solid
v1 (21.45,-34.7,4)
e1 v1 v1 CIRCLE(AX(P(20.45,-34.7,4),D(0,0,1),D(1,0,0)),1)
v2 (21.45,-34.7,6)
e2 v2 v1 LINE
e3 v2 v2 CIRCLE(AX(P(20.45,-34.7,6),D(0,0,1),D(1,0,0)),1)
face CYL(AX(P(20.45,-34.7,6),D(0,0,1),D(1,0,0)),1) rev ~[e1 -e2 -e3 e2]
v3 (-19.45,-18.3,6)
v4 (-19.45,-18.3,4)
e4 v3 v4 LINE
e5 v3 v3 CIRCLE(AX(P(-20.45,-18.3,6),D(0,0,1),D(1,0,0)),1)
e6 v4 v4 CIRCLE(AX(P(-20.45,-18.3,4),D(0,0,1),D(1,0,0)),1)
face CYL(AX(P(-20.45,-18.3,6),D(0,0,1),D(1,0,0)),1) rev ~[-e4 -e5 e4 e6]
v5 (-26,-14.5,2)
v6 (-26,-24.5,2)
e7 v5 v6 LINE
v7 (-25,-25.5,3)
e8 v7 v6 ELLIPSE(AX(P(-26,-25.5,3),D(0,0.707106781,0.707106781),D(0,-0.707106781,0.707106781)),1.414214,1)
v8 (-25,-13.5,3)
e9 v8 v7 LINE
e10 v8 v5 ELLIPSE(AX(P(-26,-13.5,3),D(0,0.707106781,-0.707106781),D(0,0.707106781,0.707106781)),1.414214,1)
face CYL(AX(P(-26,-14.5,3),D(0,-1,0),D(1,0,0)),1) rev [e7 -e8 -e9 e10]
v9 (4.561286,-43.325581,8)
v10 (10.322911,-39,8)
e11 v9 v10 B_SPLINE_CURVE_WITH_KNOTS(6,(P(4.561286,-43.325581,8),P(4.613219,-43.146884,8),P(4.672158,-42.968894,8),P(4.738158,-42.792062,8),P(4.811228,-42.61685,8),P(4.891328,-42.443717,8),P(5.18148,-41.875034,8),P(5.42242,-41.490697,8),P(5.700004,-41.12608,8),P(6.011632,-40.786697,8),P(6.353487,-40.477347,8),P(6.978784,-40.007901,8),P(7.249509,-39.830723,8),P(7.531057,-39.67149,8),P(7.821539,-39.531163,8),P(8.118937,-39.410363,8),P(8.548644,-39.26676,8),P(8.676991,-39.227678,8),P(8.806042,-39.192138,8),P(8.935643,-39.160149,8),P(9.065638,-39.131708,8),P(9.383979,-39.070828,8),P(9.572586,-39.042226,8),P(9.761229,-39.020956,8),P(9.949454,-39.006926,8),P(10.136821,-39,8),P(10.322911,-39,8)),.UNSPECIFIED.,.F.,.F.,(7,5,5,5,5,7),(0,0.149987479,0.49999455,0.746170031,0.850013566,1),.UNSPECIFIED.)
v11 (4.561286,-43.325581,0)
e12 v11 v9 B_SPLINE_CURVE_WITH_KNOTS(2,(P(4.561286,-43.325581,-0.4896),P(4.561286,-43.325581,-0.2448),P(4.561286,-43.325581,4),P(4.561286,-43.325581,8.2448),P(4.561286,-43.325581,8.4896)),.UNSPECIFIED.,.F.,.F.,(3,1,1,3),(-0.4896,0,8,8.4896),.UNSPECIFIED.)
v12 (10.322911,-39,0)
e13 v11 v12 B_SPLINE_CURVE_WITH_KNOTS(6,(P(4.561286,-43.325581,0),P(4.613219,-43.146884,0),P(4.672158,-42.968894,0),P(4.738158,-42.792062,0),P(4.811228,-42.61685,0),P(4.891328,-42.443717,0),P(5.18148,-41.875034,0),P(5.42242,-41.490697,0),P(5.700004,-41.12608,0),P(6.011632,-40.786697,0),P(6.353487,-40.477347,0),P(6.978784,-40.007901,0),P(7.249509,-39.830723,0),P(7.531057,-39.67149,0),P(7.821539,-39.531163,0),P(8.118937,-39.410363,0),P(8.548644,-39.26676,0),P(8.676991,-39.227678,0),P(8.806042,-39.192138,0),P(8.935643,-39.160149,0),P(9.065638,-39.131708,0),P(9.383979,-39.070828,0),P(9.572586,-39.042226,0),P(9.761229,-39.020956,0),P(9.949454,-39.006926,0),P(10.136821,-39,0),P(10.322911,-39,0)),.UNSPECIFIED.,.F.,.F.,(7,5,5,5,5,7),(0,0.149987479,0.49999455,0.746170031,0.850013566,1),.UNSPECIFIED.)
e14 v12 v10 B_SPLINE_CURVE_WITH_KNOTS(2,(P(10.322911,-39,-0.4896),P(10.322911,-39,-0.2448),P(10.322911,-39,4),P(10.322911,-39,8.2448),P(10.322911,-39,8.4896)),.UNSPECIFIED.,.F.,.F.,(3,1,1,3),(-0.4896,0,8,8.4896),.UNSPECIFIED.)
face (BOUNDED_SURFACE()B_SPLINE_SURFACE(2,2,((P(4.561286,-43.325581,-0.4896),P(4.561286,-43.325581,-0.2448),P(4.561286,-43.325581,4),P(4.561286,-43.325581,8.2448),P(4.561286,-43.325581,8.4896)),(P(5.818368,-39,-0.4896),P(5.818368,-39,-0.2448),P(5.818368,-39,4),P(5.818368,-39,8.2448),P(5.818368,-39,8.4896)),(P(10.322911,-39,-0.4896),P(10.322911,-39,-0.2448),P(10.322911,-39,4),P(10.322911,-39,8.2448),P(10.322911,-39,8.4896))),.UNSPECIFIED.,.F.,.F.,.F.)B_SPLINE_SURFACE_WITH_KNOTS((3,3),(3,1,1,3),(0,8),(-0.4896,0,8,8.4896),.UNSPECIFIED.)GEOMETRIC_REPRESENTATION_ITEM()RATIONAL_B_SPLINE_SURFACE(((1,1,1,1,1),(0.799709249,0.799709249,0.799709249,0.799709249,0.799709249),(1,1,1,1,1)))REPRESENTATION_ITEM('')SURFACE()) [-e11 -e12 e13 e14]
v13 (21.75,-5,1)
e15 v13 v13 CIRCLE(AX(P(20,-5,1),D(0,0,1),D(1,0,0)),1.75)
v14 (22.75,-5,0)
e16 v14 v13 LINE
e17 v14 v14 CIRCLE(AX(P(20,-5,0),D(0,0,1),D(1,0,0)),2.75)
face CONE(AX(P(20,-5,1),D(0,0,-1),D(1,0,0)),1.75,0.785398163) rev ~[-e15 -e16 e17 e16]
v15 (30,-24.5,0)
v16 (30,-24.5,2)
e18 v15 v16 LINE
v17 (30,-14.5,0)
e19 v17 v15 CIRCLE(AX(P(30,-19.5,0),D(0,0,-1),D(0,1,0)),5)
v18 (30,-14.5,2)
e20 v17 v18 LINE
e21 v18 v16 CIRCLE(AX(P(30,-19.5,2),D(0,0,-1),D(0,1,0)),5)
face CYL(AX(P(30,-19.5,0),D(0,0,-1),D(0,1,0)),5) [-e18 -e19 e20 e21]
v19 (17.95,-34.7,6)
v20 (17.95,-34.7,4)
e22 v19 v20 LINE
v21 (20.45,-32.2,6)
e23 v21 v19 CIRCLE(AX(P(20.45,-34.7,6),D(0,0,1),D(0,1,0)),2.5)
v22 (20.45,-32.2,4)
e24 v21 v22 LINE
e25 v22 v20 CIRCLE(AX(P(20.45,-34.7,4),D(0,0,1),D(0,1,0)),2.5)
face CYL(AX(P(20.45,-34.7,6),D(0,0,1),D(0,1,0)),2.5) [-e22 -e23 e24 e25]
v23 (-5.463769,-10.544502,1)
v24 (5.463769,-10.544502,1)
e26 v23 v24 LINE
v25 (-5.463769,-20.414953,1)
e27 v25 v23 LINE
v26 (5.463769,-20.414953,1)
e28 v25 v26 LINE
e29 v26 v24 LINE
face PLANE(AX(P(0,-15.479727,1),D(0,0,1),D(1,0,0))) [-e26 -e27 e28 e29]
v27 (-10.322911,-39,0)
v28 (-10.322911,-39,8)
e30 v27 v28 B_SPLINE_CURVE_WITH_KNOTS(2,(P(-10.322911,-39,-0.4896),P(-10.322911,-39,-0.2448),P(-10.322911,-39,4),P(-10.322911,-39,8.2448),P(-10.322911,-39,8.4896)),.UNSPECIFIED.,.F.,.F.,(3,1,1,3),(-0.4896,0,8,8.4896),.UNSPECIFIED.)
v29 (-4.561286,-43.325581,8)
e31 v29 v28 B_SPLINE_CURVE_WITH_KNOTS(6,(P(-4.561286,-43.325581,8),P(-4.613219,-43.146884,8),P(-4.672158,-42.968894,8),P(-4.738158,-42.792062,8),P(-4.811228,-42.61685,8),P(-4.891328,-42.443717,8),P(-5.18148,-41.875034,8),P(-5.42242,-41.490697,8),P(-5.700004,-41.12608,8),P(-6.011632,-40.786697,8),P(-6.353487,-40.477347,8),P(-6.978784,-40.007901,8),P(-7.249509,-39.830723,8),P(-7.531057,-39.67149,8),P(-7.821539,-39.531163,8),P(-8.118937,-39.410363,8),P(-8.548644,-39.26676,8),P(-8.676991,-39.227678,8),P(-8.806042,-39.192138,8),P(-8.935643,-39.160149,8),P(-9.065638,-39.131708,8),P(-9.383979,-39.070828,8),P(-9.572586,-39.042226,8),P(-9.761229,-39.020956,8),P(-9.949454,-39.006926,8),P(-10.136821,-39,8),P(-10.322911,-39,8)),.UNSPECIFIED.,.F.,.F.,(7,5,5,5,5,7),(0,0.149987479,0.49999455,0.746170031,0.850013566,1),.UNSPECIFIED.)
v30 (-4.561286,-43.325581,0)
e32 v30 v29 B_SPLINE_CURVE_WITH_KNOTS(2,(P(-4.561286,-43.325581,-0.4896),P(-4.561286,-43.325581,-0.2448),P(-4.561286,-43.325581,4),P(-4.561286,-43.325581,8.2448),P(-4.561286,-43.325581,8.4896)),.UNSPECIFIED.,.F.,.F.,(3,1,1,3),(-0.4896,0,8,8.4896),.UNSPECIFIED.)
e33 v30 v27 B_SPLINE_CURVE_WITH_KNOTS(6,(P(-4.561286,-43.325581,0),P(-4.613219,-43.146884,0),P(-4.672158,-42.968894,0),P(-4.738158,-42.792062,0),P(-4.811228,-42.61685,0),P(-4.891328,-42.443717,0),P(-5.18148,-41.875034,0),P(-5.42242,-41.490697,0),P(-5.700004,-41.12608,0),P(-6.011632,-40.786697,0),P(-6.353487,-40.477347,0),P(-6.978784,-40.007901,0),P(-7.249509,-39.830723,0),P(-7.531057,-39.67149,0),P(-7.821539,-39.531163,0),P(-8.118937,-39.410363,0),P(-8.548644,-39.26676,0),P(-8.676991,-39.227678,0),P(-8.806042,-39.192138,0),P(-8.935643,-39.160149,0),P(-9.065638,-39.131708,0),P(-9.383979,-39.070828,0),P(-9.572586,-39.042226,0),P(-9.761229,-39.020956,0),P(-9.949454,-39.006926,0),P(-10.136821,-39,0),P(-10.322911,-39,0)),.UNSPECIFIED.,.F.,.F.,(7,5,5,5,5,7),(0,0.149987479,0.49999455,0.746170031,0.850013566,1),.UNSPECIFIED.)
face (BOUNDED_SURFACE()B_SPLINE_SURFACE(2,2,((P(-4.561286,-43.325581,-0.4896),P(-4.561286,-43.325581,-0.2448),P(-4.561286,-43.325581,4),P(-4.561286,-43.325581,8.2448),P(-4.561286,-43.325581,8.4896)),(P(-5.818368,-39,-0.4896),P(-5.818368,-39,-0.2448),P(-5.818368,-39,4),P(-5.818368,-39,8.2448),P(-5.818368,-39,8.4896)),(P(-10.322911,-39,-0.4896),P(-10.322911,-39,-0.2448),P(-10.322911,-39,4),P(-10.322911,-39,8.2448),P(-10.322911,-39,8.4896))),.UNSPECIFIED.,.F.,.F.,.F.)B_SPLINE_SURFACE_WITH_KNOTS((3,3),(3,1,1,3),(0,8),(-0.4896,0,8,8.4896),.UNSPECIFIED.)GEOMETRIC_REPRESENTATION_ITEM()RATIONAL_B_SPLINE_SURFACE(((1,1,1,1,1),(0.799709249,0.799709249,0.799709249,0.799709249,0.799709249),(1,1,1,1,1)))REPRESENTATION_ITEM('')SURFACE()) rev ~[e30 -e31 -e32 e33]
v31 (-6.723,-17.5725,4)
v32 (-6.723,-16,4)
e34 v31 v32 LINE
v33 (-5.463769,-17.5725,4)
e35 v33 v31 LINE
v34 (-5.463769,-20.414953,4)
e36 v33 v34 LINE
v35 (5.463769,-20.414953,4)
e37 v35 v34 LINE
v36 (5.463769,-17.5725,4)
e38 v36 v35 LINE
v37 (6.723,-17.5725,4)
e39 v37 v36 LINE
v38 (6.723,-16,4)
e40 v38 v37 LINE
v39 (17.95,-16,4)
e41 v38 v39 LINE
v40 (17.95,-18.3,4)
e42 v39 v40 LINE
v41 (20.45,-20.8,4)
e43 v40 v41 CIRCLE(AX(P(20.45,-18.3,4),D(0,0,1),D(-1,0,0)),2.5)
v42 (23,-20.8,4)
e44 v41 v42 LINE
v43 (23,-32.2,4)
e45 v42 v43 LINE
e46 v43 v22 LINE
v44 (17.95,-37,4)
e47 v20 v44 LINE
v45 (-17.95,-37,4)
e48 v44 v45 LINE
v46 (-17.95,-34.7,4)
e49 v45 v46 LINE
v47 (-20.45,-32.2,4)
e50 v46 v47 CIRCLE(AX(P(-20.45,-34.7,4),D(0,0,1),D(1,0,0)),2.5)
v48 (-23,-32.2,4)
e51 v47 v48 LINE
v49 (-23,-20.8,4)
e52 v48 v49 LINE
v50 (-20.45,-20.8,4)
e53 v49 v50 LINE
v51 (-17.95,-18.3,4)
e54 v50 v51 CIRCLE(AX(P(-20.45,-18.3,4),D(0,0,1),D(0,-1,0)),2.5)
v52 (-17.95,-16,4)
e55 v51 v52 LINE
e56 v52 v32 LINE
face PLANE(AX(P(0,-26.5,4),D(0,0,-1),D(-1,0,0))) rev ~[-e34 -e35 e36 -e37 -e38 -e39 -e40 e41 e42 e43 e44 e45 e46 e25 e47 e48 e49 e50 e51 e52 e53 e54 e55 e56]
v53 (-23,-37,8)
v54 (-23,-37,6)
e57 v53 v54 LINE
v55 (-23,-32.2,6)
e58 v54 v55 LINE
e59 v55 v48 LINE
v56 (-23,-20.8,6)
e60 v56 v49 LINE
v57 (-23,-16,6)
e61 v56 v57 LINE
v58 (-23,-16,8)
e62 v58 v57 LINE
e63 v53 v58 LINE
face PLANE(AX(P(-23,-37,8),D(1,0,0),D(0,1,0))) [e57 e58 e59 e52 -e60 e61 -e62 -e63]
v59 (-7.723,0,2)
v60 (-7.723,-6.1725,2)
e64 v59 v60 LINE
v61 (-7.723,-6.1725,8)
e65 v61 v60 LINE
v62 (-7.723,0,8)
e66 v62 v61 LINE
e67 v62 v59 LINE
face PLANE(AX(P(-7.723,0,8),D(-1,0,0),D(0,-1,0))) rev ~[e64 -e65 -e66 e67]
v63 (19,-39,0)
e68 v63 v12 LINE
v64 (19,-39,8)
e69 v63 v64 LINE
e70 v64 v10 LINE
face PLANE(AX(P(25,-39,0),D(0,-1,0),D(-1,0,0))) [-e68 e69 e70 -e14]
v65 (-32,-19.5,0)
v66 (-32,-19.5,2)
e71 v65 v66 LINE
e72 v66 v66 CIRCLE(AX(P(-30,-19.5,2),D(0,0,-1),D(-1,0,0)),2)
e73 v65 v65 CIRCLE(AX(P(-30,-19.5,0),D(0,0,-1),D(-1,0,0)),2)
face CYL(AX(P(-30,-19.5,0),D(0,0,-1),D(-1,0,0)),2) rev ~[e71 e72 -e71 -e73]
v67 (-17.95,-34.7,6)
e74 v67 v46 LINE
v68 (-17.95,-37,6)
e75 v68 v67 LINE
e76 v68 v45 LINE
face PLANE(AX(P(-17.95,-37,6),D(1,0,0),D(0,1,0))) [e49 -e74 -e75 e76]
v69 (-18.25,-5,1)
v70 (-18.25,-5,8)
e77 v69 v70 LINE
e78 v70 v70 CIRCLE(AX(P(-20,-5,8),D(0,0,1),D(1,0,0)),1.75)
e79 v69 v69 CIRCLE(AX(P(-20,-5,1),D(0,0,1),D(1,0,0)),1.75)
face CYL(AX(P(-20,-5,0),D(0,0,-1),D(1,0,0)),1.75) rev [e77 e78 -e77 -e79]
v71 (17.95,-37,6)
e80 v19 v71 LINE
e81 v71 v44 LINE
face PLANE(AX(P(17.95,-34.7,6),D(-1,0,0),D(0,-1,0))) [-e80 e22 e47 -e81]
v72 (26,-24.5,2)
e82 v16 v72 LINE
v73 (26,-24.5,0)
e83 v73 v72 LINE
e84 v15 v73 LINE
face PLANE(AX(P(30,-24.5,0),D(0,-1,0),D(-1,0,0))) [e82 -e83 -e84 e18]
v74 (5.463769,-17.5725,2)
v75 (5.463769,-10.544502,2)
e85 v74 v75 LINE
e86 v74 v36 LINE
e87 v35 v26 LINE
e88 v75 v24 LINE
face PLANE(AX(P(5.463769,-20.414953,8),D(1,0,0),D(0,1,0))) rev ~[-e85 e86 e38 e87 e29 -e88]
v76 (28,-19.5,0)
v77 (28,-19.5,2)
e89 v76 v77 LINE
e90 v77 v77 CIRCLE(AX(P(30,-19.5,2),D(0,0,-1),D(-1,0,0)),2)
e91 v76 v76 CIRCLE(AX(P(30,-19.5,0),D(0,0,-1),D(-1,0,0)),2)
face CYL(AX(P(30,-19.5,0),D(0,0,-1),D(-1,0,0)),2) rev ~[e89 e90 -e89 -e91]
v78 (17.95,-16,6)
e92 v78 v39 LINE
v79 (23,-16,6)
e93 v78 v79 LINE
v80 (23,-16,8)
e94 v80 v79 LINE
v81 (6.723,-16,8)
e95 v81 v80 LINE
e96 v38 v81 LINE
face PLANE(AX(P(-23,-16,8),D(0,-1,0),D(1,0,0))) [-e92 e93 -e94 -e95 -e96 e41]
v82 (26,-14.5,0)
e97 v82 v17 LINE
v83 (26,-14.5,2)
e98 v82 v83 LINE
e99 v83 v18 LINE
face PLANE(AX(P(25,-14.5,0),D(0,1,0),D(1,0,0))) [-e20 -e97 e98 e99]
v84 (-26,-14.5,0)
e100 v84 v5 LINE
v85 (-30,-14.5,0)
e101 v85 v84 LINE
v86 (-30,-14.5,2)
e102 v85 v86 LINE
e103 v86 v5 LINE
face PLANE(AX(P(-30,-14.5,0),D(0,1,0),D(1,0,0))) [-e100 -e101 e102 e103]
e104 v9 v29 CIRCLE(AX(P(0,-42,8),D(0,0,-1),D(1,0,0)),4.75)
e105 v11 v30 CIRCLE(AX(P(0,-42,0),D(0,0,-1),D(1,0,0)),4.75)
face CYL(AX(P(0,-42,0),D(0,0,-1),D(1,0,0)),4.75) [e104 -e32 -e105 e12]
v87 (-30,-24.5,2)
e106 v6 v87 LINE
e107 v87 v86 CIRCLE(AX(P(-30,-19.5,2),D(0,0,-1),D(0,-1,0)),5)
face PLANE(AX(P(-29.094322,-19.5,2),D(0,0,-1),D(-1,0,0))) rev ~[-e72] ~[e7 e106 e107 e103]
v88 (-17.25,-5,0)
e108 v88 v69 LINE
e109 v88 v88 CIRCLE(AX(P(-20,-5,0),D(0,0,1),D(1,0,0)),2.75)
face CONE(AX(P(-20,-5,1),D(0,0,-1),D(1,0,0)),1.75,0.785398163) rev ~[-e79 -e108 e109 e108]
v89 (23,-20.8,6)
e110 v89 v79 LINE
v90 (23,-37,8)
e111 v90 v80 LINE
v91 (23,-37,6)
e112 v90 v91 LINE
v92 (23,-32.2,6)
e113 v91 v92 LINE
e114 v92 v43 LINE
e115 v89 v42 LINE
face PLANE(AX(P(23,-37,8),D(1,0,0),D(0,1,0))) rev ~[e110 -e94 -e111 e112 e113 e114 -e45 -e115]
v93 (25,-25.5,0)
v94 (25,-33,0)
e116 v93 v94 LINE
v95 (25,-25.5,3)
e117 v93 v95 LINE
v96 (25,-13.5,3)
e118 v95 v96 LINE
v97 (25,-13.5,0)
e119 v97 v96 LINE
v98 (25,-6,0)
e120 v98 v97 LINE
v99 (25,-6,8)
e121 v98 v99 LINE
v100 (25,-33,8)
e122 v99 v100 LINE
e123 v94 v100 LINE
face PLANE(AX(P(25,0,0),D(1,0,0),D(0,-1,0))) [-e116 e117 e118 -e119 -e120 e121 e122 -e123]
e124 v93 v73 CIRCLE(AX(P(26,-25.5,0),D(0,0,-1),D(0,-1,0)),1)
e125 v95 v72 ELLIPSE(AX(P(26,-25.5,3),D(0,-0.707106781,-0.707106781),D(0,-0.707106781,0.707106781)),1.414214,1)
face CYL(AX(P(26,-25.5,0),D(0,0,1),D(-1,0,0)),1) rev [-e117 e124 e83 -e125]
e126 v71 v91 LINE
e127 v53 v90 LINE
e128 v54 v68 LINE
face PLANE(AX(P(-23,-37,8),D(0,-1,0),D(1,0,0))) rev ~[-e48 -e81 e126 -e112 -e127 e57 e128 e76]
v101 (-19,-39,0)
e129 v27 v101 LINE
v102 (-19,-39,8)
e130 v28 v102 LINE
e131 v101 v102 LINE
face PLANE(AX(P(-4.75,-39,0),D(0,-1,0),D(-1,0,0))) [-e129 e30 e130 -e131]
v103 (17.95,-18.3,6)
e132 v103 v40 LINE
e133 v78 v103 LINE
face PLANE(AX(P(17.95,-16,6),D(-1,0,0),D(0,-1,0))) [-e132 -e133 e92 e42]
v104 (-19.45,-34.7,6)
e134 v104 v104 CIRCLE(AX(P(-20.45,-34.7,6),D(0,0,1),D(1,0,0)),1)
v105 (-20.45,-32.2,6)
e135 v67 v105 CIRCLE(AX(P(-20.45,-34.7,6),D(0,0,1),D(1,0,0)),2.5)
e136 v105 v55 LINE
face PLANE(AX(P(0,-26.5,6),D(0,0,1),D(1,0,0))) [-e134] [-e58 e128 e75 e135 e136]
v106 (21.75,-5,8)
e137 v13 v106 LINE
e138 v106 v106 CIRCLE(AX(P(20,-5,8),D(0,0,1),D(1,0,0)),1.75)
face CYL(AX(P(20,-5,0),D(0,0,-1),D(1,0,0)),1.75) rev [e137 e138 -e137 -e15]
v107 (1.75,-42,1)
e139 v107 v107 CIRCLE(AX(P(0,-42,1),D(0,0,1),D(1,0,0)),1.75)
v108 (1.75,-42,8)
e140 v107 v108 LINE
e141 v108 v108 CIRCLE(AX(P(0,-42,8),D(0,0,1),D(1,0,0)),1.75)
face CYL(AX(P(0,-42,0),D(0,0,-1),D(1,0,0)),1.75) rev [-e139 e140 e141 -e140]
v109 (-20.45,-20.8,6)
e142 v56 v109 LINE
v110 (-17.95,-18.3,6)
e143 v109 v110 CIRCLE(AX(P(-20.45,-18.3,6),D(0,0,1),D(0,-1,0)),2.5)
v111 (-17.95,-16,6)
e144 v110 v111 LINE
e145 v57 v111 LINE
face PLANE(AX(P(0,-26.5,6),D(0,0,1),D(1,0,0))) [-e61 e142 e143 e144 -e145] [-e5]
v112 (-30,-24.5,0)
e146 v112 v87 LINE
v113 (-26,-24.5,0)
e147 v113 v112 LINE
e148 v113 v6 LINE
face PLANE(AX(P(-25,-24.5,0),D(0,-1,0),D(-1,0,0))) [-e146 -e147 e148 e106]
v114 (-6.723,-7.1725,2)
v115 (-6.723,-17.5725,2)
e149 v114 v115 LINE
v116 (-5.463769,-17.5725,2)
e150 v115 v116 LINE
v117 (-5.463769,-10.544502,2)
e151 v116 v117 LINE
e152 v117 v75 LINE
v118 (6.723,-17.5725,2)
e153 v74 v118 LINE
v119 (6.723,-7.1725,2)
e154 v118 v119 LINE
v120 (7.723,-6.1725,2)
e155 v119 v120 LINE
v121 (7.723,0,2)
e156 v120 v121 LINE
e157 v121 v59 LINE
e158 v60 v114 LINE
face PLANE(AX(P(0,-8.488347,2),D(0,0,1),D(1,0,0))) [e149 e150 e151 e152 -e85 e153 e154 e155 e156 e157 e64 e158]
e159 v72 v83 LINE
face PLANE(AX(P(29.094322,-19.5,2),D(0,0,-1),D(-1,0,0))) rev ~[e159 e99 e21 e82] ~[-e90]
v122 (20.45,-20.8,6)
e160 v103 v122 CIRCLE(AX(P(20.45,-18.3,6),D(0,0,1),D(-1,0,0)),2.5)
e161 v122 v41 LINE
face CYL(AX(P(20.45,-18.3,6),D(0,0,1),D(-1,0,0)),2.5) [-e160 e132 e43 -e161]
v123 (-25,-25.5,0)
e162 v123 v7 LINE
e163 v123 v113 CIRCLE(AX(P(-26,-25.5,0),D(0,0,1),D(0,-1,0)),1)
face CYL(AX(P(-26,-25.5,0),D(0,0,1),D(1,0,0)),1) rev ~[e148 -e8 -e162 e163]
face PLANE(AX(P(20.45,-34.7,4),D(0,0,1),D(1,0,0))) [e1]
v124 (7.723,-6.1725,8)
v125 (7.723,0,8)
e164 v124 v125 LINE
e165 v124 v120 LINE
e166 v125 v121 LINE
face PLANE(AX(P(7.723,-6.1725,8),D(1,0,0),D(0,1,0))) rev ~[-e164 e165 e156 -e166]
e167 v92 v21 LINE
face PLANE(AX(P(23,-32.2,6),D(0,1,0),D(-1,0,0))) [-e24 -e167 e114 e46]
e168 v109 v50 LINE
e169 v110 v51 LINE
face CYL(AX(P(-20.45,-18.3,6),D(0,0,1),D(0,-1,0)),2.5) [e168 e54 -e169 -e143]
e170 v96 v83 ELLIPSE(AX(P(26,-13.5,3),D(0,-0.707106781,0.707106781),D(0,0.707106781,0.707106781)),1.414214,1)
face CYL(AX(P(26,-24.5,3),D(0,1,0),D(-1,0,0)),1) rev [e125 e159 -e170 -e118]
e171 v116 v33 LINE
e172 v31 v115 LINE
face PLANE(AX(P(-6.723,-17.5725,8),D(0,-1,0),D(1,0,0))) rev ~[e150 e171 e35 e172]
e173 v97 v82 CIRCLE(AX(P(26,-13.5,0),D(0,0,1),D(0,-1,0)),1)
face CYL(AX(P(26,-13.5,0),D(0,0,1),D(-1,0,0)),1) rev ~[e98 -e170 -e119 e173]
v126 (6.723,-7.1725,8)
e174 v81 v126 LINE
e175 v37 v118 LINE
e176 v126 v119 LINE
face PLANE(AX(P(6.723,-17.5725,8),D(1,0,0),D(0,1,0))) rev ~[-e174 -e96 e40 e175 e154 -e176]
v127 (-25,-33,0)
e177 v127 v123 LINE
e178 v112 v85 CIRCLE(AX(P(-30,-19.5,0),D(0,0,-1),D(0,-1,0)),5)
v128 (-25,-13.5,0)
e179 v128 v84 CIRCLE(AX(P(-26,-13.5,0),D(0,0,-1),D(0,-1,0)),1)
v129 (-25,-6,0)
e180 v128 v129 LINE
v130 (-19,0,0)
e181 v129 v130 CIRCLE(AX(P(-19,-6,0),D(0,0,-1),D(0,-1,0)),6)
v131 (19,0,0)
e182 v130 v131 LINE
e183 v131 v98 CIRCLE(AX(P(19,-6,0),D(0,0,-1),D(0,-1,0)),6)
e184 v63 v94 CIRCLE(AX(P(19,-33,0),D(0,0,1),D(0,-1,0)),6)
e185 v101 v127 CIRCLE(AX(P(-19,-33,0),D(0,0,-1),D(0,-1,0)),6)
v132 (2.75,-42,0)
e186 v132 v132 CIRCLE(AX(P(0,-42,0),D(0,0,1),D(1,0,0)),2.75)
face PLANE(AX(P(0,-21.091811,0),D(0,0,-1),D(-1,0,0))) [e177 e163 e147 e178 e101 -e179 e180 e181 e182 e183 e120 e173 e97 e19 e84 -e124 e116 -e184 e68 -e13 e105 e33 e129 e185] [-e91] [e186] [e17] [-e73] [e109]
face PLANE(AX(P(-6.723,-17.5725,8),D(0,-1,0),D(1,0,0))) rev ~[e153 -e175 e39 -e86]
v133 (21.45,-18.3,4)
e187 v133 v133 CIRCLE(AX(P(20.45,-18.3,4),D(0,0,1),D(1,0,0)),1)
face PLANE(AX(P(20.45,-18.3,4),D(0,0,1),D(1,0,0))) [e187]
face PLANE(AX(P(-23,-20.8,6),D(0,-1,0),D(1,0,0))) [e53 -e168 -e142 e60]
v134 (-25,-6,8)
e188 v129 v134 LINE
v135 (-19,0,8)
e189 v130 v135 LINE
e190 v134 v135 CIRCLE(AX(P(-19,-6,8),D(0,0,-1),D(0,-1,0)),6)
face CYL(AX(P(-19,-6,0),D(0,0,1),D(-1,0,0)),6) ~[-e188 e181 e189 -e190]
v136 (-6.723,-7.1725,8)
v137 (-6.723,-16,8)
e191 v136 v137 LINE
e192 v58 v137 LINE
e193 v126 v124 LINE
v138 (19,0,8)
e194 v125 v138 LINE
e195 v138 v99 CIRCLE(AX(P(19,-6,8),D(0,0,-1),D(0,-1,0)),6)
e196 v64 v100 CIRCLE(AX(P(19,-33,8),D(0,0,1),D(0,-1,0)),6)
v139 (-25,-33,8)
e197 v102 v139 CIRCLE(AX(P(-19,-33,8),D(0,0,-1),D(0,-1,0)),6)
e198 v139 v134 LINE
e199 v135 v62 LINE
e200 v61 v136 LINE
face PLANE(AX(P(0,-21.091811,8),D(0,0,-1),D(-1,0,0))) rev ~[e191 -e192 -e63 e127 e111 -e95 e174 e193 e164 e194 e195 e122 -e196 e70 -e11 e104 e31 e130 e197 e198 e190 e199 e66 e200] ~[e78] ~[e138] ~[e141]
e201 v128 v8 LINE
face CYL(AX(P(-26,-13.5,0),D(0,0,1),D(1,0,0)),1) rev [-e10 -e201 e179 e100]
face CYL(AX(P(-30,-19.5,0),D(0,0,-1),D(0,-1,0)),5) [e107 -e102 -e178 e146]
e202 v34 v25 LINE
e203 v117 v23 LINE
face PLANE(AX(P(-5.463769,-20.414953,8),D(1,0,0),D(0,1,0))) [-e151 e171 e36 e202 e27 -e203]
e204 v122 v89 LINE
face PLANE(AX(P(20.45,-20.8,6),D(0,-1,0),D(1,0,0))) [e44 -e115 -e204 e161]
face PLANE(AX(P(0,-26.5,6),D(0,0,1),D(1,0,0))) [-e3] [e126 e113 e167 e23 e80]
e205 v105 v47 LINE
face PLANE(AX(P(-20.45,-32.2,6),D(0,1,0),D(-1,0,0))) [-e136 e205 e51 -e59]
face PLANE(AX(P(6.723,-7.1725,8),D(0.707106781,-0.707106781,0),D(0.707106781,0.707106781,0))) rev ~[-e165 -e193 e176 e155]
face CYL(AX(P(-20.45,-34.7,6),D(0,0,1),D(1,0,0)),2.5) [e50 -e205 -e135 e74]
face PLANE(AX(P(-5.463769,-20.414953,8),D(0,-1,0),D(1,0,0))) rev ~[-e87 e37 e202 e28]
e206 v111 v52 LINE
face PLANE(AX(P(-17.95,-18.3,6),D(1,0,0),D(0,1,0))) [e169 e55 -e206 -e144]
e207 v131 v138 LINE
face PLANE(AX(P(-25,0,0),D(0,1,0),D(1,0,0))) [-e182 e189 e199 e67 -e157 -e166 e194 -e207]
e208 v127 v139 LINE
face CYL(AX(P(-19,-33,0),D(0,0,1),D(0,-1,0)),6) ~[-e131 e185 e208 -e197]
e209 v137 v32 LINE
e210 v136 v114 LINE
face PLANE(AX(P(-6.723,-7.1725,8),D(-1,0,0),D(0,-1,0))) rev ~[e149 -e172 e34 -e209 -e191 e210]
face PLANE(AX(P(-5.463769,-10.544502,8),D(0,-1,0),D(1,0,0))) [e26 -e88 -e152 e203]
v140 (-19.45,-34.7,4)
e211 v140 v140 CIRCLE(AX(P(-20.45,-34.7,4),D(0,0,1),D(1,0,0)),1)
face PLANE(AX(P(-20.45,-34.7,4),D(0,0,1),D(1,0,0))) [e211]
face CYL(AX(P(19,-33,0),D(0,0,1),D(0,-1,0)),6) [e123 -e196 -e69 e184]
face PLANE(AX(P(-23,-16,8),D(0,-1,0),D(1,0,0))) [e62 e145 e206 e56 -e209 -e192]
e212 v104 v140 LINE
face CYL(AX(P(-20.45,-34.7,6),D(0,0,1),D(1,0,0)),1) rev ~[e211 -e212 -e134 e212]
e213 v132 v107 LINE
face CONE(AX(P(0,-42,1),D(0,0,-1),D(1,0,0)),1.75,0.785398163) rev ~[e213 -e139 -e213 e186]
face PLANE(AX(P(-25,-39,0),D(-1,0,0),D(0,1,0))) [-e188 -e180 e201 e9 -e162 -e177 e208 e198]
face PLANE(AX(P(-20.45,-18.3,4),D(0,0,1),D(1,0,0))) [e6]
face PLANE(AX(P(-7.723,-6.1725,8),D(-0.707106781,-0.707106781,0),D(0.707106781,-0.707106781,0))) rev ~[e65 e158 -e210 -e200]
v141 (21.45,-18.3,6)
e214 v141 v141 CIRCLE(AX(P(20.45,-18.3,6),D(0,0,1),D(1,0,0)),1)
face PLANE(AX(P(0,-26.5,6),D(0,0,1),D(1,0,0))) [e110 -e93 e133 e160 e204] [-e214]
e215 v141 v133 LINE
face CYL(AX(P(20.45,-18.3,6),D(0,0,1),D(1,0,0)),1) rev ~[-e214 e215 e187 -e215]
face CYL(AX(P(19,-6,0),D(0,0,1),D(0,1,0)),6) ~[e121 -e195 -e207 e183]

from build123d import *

# Parameters (mm, degrees)
SKETCH1_R           = 1.75
BOSS_EXTRUDE1_DEPTH = 8
SKETCH2_W           = 46
SKETCH2_H           = 21
CUT_EXTRUDE1_DEPTH  = 2
SKETCH3_R           = 1
CUT_EXTRUDE2_DEPTH  = 2
CUT_EXTRUDE3_DEPTH  = 6
SKETCH5_W           = 10.927537962
SKETCH5_H           = 9.870451426
CUT_EXTRUDE4_DEPTH  = 7
FILLET4_R           = 6
CHAMFER2_SIZE       = 1
SKETCH7_R           = 2
BOSS_EXTRUDE2_DEPTH = 2
FILLET5_R           = 1


with BuildPart() as part:
    # Sketch1 → Boss-Extrude1 (new body)
    with BuildSketch(Plane.XY):
        with BuildLine():
            Line((-4.75, -42), (-4.75, -39))
            Line((-4.75, -39), (-25, -39))
            Line((-25, -39), (-25, 0))
            Line((-25, 0), (25, 0))
            Line((25, 0), (25, -39))
            Line((25, -39), (4.75, -39))
            Line((4.75, -39), (4.75, -42))
            ThreePointArc((4.75, -42), (0, -46.75), (-4.75, -42))
        make_face()
        with Locations((-20, -5)):
            Circle(SKETCH1_R, mode=Mode.SUBTRACT)
        with Locations((20, -5)):
            Circle(SKETCH1_R, mode=Mode.SUBTRACT)
        with Locations((0, -42)):
            Circle(SKETCH1_R, mode=Mode.SUBTRACT)
    extrude(amount=BOSS_EXTRUDE1_DEPTH)

    # Sketch2 → Cut-Extrude1 (cut)
    with BuildSketch(Plane.XY.offset(8)):
        with Locations((0, -26.5)):
            Rectangle(SKETCH2_W, SKETCH2_H)
    extrude(amount=-CUT_EXTRUDE1_DEPTH, mode=Mode.SUBTRACT)

    # Sketch3 → Cut-Extrude2 (cut)
    with BuildSketch(Plane.XY.offset(6)):
        with Locations((-20.45, -18.3)):
            Circle(SKETCH3_R)
        with Locations((20.45, -18.3)):
            Circle(SKETCH3_R)
        with Locations((20.45, -34.7)):
            Circle(SKETCH3_R)
        with Locations((-20.45, -34.7)):
            Circle(SKETCH3_R)
        with BuildLine():
            Line((-17.95, -18.3), (-17.95, -16))
            Line((-17.95, -16), (17.95, -16))
            Line((17.95, -16), (17.95, -18.3))
            ThreePointArc((17.95, -18.3), (18.682233047, -20.067766953), (20.45, -20.8))
            Line((20.45, -20.8), (23, -20.8))
            Line((23, -20.8), (23, -32.2))
            Line((23, -32.2), (20.45, -32.2))
            ThreePointArc((20.45, -32.2), (18.682233047, -32.932233047), (17.95, -34.7))
            Line((17.95, -34.7), (17.95, -37))
            Line((17.95, -37), (-17.95, -37))
            Line((-17.95, -37), (-17.95, -34.7))
            ThreePointArc((-17.95, -34.7), (-18.682233047, -32.932233047), (-20.45, -32.2))
            Line((-20.45, -32.2), (-23, -32.2))
            Line((-23, -32.2), (-23, -20.8))
            Line((-23, -20.8), (-20.45, -20.8))
            ThreePointArc((-20.45, -20.8), (-18.682233047, -20.067766953), (-17.95, -18.3))
        make_face()
    extrude(amount=-CUT_EXTRUDE2_DEPTH, mode=Mode.SUBTRACT)

    # Sketch4 → Cut-Extrude3 (cut)
    with BuildSketch(Plane.XY.offset(8)):
        Polygon((-7.723, 0), (-7.723, -6.1725), (-6.723, -7.1725), (-6.723, -17.5725), (6.723, -17.5725), (6.723, -7.1725), (7.723, -6.1725), (7.723, 0), align=None)
    extrude(amount=-CUT_EXTRUDE3_DEPTH, mode=Mode.SUBTRACT)

    # Sketch5 → Cut-Extrude4 (cut)
    with BuildSketch(Plane.XY.offset(8)):
        with Locations((0, -15.479727473)):
            Rectangle(SKETCH5_W, SKETCH5_H)
    extrude(amount=-CUT_EXTRUDE4_DEPTH, mode=Mode.SUBTRACT)

    # Fillet4
    fillet4_edges = [part.edges().sort_by_distance(p)[0] for p in [
        (25, -39, 4),
        (4.75, -39, 4),
        (-25, -39, 4),
        (-4.75, -39, 4),
        (25, 0, 4),
        (-25, 0, 4),
    ]]
    fillet(fillet4_edges, radius=FILLET4_R)

    # Chamfer2
    chamfer2_edges = [part.edges().sort_by_distance(p)[0] for p in [
        (-1.75, -42, 0),
        (-21.75, -5, 0),
        (18.25, -5, 0),
    ]]
    chamfer(chamfer2_edges, length=CHAMFER2_SIZE)

    # Sketch7 → Boss-Extrude2 (add)
    with BuildSketch(Plane(origin=(0, 0, 0), x_dir=(-1, 0, 0), z_dir=(0, 0, -1))):
        with BuildLine():
            Line((-25, -14.5), (-30, -14.5))
            ThreePointArc((-30, -14.5), (-35, -19.5), (-30, -24.5))
            Line((-30, -24.5), (-25, -24.5))
            Line((-25, -24.5), (-25, -14.5))
        make_face()
        with Locations((-30, -19.5)):
            Circle(SKETCH7_R, mode=Mode.SUBTRACT)
        with BuildLine():
            Line((30, -14.5), (25, -14.5))
            Line((25, -14.5), (25, -24.5))
            Line((25, -24.5), (30, -24.5))
            ThreePointArc((30, -24.5), (35, -19.5), (30, -14.5))
        make_face()
        with Locations((30, -19.5)):
            Circle(SKETCH7_R, mode=Mode.SUBTRACT)
    extrude(amount=-BOSS_EXTRUDE2_DEPTH)

    # Fillet5
    fillet5_edges = [part.edges().sort_by_distance(p)[0] for p in [
        (25, -14.5, 1),
        (25, -24.5, 1),
        (25, -19.5, 2),
        (-25, -24.5, 1),
        (-25, -14.5, 1),
        (-25, -19.5, 2),
    ]]
    fillet(fillet5_edges, radius=FILLET5_R)


solid = part.part
